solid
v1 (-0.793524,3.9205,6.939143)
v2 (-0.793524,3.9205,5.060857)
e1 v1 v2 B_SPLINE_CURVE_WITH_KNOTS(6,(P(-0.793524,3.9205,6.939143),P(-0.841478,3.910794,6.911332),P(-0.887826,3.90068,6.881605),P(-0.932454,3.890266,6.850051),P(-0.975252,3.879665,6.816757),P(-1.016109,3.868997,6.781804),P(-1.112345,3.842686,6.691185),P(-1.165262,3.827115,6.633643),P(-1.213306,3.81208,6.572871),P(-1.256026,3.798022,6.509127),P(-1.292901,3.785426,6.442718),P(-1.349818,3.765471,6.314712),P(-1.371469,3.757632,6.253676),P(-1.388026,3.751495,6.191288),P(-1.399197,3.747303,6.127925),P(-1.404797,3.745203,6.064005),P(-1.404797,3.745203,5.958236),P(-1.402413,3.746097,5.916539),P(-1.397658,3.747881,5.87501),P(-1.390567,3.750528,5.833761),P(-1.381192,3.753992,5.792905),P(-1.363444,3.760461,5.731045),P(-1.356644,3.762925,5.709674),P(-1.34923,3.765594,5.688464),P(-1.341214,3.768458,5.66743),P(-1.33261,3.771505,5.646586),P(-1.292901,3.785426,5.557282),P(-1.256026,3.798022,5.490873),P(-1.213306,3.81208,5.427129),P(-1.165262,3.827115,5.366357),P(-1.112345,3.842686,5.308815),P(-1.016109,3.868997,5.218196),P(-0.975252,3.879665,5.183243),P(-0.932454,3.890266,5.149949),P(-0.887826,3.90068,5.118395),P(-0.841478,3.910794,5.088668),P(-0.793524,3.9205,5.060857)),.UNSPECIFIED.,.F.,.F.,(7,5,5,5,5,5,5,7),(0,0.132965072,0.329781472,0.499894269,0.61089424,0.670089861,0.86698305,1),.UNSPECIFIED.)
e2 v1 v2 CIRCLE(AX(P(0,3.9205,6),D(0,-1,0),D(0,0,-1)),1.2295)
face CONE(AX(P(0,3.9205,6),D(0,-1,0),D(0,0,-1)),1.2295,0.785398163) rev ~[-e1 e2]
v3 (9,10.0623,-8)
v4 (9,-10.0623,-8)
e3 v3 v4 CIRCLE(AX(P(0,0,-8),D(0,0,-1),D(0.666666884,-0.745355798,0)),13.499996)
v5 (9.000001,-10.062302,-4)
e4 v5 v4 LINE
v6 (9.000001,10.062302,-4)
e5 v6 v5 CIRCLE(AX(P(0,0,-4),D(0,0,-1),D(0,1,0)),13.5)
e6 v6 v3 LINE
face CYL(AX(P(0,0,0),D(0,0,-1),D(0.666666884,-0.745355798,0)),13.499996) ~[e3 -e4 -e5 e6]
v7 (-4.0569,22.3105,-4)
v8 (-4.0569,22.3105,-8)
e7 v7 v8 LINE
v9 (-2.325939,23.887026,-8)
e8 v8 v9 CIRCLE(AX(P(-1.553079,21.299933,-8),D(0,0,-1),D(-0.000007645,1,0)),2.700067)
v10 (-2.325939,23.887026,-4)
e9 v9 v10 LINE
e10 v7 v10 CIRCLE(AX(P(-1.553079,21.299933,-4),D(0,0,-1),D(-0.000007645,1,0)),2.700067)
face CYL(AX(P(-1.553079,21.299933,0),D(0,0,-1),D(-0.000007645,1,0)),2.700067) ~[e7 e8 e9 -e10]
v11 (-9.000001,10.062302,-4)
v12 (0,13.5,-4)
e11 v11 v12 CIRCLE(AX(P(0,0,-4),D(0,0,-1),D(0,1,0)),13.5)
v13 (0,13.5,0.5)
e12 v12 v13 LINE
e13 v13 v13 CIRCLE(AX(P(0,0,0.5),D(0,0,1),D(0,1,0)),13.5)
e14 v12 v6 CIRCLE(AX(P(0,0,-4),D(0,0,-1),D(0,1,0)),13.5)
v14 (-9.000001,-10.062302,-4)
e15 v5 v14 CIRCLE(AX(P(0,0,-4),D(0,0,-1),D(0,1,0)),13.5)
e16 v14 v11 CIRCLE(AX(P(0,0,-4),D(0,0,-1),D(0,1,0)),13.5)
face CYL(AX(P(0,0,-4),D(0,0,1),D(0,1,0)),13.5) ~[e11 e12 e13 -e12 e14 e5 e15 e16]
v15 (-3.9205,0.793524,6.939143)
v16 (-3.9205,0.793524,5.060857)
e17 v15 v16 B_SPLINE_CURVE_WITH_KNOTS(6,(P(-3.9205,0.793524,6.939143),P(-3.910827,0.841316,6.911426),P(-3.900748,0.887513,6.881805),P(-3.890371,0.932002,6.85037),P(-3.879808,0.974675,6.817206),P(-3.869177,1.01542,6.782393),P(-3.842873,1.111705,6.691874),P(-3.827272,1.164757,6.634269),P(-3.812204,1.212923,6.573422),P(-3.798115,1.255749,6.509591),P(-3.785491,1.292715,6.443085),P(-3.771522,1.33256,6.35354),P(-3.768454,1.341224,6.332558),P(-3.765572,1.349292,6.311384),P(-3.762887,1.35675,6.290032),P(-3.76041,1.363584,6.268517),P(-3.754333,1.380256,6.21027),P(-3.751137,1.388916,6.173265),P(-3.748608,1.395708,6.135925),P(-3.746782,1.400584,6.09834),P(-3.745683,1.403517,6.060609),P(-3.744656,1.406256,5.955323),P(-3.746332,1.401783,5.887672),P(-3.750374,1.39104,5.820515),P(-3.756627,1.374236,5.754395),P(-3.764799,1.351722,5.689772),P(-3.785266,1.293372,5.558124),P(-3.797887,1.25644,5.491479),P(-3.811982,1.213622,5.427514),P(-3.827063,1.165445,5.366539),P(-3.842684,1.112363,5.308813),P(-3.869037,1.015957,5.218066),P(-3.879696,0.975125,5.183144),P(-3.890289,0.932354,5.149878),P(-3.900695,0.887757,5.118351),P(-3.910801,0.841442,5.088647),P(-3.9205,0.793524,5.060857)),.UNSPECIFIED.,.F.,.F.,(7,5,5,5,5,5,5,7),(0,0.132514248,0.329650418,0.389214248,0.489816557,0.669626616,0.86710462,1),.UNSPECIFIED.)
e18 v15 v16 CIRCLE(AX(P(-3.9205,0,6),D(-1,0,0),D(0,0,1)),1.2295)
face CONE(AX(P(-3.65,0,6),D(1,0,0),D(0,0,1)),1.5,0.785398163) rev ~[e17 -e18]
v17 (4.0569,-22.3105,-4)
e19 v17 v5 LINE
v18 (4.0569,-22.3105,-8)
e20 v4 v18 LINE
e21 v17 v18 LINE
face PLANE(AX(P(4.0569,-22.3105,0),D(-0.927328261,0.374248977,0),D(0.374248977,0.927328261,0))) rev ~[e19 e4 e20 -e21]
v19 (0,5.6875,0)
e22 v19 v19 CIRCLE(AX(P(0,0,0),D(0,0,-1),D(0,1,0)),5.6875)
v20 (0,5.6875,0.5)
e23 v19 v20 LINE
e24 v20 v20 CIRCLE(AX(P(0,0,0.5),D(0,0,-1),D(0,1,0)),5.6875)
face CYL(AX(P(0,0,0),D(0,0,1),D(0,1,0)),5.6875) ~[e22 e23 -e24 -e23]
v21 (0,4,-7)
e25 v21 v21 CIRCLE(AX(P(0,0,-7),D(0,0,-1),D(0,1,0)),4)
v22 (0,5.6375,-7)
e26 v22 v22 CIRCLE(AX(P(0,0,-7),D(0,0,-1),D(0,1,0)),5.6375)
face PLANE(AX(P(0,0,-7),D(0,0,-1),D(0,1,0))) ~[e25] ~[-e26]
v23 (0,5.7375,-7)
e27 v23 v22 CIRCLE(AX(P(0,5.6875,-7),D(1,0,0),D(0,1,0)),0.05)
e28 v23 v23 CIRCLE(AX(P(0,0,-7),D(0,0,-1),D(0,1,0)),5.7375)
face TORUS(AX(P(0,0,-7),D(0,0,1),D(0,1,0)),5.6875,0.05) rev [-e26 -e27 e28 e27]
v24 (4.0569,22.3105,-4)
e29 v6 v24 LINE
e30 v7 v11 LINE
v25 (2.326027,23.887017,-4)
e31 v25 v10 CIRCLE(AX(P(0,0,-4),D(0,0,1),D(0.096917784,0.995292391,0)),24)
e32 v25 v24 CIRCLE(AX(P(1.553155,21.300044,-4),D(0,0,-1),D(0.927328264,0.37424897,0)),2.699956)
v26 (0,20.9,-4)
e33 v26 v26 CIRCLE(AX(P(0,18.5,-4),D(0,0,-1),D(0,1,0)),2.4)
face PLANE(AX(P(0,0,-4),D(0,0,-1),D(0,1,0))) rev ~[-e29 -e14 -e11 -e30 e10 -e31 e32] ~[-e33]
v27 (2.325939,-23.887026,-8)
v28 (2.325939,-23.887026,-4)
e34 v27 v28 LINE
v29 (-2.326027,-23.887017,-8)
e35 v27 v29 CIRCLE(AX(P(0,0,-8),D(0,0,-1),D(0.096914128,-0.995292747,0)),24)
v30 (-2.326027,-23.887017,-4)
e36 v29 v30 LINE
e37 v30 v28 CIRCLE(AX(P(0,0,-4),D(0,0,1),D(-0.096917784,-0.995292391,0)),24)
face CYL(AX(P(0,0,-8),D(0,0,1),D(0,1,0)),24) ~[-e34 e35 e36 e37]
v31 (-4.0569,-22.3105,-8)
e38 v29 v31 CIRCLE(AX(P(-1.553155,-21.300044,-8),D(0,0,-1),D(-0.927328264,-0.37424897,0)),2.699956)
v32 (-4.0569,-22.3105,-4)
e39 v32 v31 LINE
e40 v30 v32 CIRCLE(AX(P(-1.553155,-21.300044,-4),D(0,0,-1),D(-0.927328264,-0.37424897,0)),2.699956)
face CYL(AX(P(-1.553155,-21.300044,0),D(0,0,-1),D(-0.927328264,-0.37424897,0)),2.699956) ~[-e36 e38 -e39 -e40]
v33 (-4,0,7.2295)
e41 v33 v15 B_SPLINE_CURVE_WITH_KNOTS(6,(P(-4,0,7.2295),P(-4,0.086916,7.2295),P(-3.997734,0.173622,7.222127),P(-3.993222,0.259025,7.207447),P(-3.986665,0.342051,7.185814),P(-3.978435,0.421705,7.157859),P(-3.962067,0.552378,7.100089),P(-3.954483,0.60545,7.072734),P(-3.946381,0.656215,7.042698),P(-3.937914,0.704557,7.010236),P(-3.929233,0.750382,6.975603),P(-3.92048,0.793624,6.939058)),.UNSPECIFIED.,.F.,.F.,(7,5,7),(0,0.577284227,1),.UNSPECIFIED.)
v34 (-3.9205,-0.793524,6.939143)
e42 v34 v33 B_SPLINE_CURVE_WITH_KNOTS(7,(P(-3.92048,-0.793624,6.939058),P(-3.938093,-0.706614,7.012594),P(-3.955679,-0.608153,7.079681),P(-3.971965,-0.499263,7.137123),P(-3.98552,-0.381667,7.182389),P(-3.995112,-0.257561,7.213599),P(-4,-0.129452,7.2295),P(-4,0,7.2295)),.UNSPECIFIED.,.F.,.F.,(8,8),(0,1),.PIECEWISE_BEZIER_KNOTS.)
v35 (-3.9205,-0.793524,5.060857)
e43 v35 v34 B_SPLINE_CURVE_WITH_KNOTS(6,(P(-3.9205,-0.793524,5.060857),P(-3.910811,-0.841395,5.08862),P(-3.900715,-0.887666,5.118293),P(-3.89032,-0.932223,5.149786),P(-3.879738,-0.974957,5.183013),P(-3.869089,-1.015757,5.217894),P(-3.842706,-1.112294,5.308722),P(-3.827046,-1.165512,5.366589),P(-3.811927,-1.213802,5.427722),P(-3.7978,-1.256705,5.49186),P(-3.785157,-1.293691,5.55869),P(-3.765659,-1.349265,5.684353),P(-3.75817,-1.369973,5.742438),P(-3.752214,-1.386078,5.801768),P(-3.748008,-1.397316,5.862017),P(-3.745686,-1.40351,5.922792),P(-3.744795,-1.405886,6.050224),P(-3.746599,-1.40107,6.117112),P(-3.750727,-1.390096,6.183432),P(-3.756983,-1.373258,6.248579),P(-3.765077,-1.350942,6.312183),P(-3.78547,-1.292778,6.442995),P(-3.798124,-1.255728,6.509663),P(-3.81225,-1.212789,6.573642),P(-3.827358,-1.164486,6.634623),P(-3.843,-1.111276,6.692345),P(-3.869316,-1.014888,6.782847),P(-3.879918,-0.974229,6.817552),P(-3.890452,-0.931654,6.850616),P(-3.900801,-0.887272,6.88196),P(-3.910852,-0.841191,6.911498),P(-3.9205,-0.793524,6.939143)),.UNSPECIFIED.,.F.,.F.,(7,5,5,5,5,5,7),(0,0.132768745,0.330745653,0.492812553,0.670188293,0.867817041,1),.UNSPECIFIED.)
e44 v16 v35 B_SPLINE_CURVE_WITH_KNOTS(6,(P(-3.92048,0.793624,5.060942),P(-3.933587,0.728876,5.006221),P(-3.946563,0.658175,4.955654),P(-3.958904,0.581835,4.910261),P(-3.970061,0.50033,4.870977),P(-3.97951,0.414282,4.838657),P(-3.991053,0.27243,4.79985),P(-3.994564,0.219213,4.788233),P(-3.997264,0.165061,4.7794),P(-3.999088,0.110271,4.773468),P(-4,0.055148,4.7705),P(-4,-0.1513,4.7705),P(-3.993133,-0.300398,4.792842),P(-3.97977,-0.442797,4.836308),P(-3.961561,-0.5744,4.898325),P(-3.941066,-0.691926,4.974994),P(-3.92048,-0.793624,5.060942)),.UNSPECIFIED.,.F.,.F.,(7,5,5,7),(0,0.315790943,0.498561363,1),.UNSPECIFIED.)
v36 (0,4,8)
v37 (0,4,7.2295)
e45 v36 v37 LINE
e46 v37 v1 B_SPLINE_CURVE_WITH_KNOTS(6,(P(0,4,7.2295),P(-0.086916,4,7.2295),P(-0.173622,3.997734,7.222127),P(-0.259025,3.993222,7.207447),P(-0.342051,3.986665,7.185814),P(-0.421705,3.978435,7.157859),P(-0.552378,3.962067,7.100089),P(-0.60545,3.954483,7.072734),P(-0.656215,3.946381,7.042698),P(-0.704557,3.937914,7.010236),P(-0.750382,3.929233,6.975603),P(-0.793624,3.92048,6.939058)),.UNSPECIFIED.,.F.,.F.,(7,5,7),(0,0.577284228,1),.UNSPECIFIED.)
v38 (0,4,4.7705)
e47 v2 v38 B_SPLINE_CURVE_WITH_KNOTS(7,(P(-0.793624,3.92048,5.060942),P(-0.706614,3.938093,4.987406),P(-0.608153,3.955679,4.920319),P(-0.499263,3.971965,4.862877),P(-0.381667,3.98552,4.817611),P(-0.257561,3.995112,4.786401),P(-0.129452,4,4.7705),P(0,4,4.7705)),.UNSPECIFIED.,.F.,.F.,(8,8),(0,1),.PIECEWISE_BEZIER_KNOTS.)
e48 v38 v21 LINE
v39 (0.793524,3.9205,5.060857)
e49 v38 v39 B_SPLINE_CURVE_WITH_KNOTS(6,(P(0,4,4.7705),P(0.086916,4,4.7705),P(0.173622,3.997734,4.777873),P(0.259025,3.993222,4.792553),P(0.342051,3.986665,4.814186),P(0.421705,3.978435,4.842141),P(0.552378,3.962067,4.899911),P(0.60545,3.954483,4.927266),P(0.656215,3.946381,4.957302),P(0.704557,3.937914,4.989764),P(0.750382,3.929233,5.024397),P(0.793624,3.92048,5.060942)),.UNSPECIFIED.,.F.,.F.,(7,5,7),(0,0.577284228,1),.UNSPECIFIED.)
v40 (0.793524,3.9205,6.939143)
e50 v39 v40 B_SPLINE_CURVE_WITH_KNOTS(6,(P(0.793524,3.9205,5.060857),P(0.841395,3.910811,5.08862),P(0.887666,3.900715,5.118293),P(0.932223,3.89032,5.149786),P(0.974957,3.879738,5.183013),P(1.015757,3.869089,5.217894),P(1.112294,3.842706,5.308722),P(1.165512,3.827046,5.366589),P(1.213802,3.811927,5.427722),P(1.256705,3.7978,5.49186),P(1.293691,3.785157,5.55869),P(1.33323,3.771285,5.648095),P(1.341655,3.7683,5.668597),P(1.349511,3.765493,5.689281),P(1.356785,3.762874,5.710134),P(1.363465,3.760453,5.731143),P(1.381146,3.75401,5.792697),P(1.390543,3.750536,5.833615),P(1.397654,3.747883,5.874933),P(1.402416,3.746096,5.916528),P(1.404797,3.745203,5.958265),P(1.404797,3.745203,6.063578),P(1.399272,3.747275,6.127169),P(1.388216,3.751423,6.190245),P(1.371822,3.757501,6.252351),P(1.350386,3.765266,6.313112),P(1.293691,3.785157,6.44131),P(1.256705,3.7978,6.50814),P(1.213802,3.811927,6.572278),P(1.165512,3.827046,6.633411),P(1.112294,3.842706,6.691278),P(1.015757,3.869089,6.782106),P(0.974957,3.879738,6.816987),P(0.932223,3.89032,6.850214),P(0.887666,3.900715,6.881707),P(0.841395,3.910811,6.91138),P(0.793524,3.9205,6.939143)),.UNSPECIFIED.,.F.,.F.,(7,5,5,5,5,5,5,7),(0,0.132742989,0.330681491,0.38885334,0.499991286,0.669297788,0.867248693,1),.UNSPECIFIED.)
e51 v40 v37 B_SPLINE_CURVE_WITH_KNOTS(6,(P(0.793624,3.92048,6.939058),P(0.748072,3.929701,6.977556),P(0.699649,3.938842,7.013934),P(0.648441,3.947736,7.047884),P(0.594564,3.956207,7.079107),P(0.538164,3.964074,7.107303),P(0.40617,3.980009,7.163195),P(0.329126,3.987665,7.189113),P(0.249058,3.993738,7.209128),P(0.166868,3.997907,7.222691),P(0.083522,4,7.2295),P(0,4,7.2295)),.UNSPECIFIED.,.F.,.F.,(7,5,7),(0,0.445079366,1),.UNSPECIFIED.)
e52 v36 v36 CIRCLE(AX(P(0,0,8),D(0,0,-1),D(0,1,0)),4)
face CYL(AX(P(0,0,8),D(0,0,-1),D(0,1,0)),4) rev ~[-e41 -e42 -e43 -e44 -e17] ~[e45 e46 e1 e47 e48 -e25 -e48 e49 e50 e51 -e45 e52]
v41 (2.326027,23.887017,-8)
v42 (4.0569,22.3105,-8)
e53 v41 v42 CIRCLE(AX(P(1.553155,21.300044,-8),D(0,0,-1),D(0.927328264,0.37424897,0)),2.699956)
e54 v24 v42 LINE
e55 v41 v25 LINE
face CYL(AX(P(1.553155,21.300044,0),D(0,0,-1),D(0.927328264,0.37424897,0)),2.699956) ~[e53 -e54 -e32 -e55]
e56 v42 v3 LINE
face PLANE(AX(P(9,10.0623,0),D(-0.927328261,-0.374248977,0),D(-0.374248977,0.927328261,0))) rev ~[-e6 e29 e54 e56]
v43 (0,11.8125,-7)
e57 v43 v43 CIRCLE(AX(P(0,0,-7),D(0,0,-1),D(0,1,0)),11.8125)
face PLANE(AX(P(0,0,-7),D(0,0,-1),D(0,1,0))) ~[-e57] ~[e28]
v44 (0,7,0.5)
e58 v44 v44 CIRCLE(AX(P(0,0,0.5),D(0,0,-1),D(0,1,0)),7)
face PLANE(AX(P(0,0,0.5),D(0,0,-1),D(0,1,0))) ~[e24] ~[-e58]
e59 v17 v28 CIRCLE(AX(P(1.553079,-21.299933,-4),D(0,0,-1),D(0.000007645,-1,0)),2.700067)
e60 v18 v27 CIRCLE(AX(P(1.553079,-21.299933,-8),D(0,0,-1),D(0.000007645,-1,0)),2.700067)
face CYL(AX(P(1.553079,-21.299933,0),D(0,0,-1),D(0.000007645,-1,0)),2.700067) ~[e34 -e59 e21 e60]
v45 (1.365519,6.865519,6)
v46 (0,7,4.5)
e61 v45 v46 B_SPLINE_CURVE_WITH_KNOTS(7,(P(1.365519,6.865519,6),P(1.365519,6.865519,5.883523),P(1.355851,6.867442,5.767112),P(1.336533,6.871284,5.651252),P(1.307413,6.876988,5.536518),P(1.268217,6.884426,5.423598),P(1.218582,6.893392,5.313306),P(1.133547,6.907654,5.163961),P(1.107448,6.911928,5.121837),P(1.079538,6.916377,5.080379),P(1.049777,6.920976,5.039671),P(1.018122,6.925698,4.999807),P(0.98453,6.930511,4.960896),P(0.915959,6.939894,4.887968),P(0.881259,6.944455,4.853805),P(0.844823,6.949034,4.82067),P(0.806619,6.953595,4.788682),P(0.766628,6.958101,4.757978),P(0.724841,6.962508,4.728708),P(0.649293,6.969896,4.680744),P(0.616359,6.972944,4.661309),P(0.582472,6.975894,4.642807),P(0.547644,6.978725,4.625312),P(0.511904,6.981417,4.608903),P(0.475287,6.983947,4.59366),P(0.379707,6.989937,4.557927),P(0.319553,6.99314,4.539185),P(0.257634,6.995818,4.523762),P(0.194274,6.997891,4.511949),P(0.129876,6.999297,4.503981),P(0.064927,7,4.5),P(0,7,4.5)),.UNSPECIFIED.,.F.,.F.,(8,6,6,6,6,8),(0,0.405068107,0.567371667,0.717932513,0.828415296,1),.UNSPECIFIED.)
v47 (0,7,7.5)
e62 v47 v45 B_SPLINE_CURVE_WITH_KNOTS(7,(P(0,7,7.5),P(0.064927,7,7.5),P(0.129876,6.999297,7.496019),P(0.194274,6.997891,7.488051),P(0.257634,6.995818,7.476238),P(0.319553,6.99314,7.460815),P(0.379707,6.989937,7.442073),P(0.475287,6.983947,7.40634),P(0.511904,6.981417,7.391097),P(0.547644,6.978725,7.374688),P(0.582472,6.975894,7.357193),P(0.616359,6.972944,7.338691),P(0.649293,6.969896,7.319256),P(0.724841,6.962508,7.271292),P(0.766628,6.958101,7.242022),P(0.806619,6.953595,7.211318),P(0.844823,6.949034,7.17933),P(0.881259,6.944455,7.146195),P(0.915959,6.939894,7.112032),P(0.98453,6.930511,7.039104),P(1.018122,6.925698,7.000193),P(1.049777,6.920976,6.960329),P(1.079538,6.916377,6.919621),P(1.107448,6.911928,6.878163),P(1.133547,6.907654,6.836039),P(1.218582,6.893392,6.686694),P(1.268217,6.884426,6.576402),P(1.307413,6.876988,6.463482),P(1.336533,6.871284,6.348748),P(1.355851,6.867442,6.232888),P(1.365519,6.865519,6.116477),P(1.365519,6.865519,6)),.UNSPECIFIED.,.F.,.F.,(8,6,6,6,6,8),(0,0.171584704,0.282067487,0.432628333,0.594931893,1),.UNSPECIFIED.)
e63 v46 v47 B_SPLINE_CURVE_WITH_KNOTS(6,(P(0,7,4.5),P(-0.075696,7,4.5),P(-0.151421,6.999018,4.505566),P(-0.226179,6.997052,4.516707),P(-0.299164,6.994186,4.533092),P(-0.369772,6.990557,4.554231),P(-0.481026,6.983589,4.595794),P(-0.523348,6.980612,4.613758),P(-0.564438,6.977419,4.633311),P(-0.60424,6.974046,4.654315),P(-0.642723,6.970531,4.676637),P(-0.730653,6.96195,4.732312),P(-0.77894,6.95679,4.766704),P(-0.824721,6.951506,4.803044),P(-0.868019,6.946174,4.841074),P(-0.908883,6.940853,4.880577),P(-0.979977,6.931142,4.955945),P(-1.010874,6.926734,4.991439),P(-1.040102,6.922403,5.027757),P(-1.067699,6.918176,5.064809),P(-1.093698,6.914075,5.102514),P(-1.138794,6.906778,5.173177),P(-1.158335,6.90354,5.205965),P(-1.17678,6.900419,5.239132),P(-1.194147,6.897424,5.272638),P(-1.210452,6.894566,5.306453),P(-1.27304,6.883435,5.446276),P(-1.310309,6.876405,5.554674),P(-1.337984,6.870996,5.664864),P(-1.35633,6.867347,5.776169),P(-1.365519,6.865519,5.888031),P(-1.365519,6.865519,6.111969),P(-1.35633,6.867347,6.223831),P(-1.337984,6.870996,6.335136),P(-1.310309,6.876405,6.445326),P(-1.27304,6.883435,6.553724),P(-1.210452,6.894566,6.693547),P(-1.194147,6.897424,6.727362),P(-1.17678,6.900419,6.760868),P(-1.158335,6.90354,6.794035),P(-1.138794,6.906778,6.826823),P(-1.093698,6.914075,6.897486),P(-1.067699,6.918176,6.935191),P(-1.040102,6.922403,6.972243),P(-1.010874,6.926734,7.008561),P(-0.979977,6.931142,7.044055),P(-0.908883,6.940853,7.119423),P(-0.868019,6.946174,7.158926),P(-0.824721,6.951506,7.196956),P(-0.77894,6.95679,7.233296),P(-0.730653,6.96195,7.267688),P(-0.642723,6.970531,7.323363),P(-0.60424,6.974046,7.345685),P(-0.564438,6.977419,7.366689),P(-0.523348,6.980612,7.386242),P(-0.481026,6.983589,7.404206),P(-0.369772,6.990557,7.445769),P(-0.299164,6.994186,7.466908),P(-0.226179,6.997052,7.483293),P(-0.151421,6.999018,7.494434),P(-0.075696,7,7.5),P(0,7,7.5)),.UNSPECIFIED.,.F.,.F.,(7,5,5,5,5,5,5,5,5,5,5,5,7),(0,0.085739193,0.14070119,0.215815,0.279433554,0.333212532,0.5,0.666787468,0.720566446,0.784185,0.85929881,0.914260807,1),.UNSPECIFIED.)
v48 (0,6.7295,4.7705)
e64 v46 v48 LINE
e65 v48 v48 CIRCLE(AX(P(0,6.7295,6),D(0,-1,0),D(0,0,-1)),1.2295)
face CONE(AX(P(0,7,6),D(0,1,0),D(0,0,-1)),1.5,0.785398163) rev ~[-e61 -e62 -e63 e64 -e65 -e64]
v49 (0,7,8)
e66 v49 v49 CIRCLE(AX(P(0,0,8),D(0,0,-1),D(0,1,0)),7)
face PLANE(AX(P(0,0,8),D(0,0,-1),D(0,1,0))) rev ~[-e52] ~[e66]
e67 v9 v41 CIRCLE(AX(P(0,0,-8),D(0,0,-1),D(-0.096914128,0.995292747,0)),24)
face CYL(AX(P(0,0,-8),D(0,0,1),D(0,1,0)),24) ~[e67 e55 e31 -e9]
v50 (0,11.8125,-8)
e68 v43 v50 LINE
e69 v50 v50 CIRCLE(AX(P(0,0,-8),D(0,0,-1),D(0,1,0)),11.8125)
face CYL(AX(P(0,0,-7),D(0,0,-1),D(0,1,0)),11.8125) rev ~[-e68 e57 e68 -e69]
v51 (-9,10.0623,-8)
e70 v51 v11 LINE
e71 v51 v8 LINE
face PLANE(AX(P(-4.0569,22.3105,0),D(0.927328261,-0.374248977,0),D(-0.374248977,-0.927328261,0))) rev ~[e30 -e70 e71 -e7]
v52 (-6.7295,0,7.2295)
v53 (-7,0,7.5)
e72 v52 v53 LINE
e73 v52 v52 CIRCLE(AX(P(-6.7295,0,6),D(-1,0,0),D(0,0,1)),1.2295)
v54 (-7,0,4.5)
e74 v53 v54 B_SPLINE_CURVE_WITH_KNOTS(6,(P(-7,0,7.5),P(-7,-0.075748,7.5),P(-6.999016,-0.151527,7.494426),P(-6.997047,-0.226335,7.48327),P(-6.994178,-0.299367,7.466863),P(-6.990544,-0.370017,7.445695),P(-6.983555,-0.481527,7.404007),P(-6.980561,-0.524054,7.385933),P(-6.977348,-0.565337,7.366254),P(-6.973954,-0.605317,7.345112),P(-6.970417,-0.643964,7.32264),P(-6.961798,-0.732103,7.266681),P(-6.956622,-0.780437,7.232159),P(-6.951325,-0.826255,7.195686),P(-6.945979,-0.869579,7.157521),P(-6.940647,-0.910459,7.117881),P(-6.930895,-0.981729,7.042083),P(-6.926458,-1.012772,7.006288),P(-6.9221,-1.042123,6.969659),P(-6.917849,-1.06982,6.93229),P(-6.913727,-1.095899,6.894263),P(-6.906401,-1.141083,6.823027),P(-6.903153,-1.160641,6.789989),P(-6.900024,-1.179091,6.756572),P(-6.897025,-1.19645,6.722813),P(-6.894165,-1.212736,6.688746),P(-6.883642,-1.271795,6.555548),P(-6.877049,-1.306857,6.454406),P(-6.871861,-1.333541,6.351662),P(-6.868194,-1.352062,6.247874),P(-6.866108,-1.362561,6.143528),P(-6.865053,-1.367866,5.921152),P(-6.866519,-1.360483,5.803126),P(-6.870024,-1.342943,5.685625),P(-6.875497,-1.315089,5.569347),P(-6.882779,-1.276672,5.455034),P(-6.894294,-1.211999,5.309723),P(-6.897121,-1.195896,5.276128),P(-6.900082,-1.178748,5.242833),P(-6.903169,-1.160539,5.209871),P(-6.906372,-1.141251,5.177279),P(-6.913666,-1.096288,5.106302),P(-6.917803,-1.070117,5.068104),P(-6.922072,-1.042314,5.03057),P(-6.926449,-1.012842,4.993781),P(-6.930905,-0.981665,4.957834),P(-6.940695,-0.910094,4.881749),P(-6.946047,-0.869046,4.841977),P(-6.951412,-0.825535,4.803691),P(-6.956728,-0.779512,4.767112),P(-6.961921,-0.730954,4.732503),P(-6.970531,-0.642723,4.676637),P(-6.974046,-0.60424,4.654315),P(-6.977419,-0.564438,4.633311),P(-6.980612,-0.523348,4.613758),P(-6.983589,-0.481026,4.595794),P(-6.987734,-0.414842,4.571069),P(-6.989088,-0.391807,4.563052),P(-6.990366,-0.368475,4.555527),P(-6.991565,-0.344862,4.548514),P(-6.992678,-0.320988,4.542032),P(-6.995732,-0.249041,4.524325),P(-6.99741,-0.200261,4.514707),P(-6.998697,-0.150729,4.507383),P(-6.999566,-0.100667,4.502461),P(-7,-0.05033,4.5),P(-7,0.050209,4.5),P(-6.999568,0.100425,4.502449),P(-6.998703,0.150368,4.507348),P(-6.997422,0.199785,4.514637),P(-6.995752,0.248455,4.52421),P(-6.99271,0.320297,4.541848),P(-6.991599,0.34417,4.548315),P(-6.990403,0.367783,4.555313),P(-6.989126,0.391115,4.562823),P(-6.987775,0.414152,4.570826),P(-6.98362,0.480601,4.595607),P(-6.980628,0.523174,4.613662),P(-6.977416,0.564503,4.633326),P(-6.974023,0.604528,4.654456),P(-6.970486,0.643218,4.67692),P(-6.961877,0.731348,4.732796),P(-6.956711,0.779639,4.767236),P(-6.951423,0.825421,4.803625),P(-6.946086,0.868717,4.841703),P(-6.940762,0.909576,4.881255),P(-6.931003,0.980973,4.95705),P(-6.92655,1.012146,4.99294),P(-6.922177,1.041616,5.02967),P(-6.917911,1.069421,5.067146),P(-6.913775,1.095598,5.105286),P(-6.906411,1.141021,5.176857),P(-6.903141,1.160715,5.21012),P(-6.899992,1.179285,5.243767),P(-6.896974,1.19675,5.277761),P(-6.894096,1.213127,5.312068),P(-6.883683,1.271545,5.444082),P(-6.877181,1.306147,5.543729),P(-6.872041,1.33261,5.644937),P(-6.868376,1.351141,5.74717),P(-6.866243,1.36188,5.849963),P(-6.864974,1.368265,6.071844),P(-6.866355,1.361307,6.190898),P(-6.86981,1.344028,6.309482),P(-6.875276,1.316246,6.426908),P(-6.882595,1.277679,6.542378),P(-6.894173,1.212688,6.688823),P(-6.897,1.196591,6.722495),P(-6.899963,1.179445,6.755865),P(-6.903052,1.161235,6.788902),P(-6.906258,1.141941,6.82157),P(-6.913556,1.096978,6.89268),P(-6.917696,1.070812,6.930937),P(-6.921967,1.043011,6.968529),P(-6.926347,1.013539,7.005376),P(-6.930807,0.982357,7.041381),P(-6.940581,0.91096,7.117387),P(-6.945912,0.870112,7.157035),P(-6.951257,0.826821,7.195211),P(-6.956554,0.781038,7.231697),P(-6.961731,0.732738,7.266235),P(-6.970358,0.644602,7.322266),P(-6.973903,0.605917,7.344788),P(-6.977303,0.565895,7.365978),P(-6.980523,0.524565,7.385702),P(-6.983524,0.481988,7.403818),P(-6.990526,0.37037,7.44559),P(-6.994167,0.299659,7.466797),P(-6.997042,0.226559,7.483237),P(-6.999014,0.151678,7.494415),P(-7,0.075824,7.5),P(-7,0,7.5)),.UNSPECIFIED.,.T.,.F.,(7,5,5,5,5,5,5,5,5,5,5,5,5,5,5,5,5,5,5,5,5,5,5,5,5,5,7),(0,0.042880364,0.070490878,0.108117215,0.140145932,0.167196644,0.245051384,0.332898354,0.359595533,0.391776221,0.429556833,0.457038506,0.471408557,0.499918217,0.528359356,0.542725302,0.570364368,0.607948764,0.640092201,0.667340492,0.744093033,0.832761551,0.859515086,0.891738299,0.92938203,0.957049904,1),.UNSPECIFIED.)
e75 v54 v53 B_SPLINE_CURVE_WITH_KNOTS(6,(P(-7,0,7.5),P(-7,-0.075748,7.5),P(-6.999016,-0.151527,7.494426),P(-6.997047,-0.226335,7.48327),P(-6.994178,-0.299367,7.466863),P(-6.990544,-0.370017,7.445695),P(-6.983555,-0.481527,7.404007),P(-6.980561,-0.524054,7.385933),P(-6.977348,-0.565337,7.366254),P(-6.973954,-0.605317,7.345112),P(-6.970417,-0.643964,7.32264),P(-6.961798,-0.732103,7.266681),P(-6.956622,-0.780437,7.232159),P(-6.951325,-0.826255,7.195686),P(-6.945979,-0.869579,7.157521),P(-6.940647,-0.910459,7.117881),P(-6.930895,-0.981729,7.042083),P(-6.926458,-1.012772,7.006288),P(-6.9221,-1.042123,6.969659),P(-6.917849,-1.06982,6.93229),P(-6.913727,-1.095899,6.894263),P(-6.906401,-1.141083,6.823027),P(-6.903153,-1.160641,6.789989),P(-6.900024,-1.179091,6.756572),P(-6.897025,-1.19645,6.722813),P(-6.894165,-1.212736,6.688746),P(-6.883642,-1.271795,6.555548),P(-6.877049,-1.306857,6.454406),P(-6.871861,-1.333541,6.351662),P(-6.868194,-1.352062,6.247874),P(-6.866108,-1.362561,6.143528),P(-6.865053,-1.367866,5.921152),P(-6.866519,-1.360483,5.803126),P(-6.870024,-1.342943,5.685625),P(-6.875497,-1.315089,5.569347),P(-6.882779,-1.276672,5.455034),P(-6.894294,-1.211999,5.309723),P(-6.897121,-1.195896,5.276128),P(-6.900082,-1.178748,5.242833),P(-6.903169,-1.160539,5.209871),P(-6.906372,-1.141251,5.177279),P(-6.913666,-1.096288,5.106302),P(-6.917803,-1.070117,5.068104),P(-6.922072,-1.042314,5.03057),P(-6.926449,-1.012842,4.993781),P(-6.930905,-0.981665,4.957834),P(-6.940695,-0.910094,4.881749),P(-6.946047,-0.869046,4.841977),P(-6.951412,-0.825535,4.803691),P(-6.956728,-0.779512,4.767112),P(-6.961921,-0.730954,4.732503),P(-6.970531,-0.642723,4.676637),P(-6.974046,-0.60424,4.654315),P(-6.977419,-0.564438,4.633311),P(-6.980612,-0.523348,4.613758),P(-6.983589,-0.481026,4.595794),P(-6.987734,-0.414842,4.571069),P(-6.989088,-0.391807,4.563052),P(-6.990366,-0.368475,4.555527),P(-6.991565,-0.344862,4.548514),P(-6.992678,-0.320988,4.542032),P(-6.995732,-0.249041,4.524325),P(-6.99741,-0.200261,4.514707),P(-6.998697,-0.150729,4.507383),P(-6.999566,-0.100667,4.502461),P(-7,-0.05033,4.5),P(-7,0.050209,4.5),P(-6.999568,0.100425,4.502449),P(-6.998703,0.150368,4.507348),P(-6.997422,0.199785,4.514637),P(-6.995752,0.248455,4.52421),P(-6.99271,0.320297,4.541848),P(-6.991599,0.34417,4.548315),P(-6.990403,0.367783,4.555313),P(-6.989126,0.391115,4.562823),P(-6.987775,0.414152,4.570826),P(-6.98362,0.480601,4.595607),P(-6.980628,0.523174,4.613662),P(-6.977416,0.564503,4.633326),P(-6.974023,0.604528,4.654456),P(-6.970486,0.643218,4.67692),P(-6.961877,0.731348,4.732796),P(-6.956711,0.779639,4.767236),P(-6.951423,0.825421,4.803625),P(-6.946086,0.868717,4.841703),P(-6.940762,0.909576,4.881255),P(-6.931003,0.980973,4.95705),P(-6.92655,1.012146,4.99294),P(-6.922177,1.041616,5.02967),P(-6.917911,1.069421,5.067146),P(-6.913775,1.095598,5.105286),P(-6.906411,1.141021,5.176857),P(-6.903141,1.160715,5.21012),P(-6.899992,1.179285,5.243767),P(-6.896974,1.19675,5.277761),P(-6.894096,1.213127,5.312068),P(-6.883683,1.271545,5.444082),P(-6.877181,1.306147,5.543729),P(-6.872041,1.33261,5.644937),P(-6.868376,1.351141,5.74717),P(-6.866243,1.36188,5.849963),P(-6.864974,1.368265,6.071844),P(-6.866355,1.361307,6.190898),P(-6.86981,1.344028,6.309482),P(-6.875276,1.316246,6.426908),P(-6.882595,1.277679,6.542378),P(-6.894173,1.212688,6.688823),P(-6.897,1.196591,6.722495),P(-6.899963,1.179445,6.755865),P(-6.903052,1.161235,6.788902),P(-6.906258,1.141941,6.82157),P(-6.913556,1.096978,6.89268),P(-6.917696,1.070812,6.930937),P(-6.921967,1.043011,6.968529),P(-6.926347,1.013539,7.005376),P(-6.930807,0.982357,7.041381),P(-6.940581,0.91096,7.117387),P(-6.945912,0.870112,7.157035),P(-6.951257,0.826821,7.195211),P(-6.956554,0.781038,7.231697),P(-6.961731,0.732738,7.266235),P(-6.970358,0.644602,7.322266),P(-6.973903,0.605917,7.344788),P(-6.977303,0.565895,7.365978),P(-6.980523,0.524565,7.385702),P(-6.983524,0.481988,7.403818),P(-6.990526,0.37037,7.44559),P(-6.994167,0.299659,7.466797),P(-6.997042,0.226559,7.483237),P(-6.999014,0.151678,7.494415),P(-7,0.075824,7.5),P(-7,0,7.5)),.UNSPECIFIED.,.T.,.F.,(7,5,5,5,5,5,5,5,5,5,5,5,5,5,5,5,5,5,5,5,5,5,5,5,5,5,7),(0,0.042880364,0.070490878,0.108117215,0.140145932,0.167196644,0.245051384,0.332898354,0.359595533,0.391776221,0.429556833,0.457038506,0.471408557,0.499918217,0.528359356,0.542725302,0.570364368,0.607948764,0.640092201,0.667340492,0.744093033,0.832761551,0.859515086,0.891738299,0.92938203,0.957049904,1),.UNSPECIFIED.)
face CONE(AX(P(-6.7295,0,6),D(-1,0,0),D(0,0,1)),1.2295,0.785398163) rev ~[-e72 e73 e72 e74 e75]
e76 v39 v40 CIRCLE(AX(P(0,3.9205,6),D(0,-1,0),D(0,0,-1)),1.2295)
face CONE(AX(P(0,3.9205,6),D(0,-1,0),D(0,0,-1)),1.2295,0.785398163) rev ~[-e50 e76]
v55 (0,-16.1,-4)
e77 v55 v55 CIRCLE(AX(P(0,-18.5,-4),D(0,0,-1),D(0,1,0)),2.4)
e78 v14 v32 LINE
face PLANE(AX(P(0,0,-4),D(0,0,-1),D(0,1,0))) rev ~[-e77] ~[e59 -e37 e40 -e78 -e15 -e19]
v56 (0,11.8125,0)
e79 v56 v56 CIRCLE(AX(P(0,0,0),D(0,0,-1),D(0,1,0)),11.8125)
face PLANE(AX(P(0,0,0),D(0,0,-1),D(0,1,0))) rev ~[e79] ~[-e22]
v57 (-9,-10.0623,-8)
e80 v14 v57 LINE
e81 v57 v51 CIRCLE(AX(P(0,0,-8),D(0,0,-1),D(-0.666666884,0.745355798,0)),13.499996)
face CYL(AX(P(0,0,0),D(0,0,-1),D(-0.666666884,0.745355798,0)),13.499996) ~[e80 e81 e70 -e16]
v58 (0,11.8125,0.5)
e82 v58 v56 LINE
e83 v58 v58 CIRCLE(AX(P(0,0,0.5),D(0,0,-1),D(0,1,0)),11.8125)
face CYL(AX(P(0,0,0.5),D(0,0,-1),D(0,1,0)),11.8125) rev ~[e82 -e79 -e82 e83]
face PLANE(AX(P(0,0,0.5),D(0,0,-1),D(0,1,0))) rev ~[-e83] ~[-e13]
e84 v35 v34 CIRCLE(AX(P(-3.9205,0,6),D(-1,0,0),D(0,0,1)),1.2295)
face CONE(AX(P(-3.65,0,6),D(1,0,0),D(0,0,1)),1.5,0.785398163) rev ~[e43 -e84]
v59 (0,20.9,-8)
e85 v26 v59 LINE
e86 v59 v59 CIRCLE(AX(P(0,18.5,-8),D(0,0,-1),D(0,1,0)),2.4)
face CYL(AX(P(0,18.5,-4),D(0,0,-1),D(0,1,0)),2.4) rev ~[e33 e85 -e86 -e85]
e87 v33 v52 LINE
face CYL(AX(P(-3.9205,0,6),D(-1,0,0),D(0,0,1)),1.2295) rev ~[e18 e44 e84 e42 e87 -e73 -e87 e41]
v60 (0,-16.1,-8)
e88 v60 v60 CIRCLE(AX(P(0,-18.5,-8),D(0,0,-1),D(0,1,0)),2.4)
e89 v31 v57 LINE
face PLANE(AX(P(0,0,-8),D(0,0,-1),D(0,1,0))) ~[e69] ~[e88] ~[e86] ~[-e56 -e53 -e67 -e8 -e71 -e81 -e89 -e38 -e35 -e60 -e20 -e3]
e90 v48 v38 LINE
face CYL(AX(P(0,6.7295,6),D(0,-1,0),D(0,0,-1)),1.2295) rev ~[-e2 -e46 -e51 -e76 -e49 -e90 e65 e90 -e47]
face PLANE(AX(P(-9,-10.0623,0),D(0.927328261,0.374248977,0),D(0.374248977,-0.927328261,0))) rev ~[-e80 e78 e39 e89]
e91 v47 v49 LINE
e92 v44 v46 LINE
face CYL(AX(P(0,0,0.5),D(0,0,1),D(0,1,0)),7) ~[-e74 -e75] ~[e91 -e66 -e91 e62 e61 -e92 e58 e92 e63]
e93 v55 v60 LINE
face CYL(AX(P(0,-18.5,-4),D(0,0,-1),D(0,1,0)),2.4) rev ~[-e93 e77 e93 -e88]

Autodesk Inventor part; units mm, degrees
sketch "Sketch_1" plane through (0, 0, 0) normal (1, 0, 0) x (0, 1, 0)
  line L0 (0, -8) -> (0, 8)
  line L1 (7, 8) -> (4, 8)
  line L2 (4, 8) -> (4, -7)
  line L3 (4, -7) -> (5.6375, -7)
  arc A0 (5.7375, -7) -> (5.6375, -7) centre (5.6875, -7) ccw
  line L4 (5.7375, -7) -> (11.8125, -7)
  line L5 (11.8125, -7) -> (11.8125, -8)
  line L6 (11.8125, -8) -> (24, -8)
  line L7 (24, -8) -> (24, -4)
  line L8 (24, -4) -> (13.5, -4)
  line L9 (13.5, -4) -> (13.5, 0.5)
  line L10 (13.5, 0.5) -> (11.8125, 0.5)
  line L11 (11.8125, 0.5) -> (11.8125, 0)
  line L12 (11.8125, 0) -> (5.6875, 0)
  line L13 (5.6875, 0) -> (5.6875, 0.5)
  line L14 (5.6875, 0.5) -> (7, 0.5)
  line L15 (7, 0.5) -> (7, 8)
revolve "Revolution1" add sketch "Sketch_1" angle 360 about axis through (0, 0, -8) along (0, 0, -1)
sketch "Sketch_2" plane through (0, 0, 0) normal (0, 0, 1) x (1, 0, 0)
  line L0 (-54, -96) -> (54, -96)
  line L1 (54, -96) -> (54, 96)
  line L2 (54, 96) -> (-54, 96)
  line L3 (-54, 96) -> (-54, -96)
  arc A0 (-9, 10.0623) -> (-9, -10.0623) centre (0, 0) ccw
  line L4 (-9, -10.0623) -> (-4.0569, -22.3105)
  arc A1 (-4.0569, -22.3105) -> (-1.5531, -24) centre (-1.5531, -21.3) ccw
  line L5 (-1.5531, -24) -> (1.5531, -24)
  arc A2 (1.5531, -24) -> (4.0569, -22.3105) centre (1.5531, -21.3) ccw
  line L6 (4.0569, -22.3105) -> (9, -10.0623)
  arc A3 (9, -10.0623) -> (9, 10.0623) centre (0, 0) ccw
  line L7 (9, 10.0623) -> (4.0569, 22.3105)
  arc A4 (4.0569, 22.3105) -> (1.5531, 24) centre (1.5531, 21.3) ccw
  line L8 (1.5531, 24) -> (-1.5531, 24)
  arc A5 (-1.5531, 24) -> (-4.0569, 22.3105) centre (-1.5531, 21.3) ccw
  line L9 (-4.0569, 22.3105) -> (-9, 10.0623)
extrude "Extrusion1" cut sketch "Sketch_2" along normal mid plane 32
sketch "Sketch_3" plane through (0, 0, 0) normal (1, 0, 0) x (0, 1, 0)
  line L0 (18.5, -8) -> (18.5, 8)
  line L1 (18.5, 8) -> (22.34, 8)
  line L2 (22.34, 8) -> (22.34, -4)
  line L3 (22.34, -4) -> (20.9, -4)
  line L4 (20.9, -4) -> (20.9, -8)
  line L5 (20.9, -8) -> (18.5, -8)
  line L6 (18.5, -8) -> (18.5, 8)
revolve "Revolution2" cut sketch "Sketch_3" angle 360 about axis through (0, 18.5, -8) along (0, 0, -1)
sketch "Sketch_4" plane through (0, 0, 0) normal (1, 0, 0) x (0, 1, 0)
  line L0 (-18.5, -8) -> (-18.5, 8)
  line L1 (-18.5, 8) -> (-14.66, 8)
  line L2 (-14.66, 8) -> (-14.66, -4)
  line L3 (-14.66, -4) -> (-16.1, -4)
  line L4 (-16.1, -4) -> (-16.1, -8)
  line L5 (-16.1, -8) -> (-18.5, -8)
  line L6 (-18.5, -8) -> (-18.5, 8)
revolve "Revolution3" cut sketch "Sketch_4" angle 360 about axis through (0, -18.5, -8) along (0, 0, -1)
sketch "Sketch_5" plane through (0, 0, 0) normal (1, 0, 0) x (0, 1, 0)
  line L0 (3.65, 6) -> (7, 6)
  line L1 (7, 6) -> (7, 4.5)
  line L2 (7, 4.5) -> (6.7295, 4.7705)
  line L3 (6.7295, 4.7705) -> (3.9205, 4.7705)
  line L4 (3.9205, 4.7705) -> (3.65, 4.5)
  line L5 (3.65, 4.5) -> (3.65, 6)
  line L6 (3.65, 6) -> (7, 6)
revolve "Revolution4" cut sketch "Sketch_5" angle 360 about axis through (0, 3.65, 6) along (0, -1, 0)
thread "Thread1" size "M3x0.5" class "6H" standard "ISO Metric profile" full length
sketch "Sketch_6" plane through (0, 0, 0) normal (0, 1, 0) x (-1, 0, 0)
  line L0 (7, 6) -> (3.65, 6)
  line L1 (3.65, 6) -> (3.65, 7.5)
  line L2 (3.65, 7.5) -> (3.9205, 7.2295)
  line L3 (3.9205, 7.2295) -> (6.7295, 7.2295)
  line L4 (6.7295, 7.2295) -> (7, 7.5)
  line L5 (7, 7.5) -> (7, 6)
  line L6 (7, 6) -> (3.65, 6)
revolve "Revolution5" cut sketch "Sketch_6" angle 360 about axis through (-7, 0, 6) along (-1, 0, 0)
thread "Thread2" size "M3x0.5" class "6H" standard "ISO Metric profile" full length
ref_plane "to_screw_XY" through (0, 4, 6) normal (0, 1, 0) x (1, 0, 0)
ref_plane "to_screw_YZ" through (0, 4, 6) normal (1, 0, 0) x (0, 0, -1)
ref_plane "to_screw_ZX" through (0, 4, 6) normal (0, 0, -1) x (0, 1, 0)
ref_plane "to_screw_2_XY" through (-4, 0, 6) normal (-1, 0, 0) x (0, 0, -1)
ref_plane "to_screw_2_YZ" through (-4, 0, 6) normal (0, 0, -1) x (0, -1, 0)
ref_plane "to_screw_2_ZX" through (-4, 0, 6) normal (0, -1, 0) x (-1, 0, 0)
properties part number "HBR8x"
